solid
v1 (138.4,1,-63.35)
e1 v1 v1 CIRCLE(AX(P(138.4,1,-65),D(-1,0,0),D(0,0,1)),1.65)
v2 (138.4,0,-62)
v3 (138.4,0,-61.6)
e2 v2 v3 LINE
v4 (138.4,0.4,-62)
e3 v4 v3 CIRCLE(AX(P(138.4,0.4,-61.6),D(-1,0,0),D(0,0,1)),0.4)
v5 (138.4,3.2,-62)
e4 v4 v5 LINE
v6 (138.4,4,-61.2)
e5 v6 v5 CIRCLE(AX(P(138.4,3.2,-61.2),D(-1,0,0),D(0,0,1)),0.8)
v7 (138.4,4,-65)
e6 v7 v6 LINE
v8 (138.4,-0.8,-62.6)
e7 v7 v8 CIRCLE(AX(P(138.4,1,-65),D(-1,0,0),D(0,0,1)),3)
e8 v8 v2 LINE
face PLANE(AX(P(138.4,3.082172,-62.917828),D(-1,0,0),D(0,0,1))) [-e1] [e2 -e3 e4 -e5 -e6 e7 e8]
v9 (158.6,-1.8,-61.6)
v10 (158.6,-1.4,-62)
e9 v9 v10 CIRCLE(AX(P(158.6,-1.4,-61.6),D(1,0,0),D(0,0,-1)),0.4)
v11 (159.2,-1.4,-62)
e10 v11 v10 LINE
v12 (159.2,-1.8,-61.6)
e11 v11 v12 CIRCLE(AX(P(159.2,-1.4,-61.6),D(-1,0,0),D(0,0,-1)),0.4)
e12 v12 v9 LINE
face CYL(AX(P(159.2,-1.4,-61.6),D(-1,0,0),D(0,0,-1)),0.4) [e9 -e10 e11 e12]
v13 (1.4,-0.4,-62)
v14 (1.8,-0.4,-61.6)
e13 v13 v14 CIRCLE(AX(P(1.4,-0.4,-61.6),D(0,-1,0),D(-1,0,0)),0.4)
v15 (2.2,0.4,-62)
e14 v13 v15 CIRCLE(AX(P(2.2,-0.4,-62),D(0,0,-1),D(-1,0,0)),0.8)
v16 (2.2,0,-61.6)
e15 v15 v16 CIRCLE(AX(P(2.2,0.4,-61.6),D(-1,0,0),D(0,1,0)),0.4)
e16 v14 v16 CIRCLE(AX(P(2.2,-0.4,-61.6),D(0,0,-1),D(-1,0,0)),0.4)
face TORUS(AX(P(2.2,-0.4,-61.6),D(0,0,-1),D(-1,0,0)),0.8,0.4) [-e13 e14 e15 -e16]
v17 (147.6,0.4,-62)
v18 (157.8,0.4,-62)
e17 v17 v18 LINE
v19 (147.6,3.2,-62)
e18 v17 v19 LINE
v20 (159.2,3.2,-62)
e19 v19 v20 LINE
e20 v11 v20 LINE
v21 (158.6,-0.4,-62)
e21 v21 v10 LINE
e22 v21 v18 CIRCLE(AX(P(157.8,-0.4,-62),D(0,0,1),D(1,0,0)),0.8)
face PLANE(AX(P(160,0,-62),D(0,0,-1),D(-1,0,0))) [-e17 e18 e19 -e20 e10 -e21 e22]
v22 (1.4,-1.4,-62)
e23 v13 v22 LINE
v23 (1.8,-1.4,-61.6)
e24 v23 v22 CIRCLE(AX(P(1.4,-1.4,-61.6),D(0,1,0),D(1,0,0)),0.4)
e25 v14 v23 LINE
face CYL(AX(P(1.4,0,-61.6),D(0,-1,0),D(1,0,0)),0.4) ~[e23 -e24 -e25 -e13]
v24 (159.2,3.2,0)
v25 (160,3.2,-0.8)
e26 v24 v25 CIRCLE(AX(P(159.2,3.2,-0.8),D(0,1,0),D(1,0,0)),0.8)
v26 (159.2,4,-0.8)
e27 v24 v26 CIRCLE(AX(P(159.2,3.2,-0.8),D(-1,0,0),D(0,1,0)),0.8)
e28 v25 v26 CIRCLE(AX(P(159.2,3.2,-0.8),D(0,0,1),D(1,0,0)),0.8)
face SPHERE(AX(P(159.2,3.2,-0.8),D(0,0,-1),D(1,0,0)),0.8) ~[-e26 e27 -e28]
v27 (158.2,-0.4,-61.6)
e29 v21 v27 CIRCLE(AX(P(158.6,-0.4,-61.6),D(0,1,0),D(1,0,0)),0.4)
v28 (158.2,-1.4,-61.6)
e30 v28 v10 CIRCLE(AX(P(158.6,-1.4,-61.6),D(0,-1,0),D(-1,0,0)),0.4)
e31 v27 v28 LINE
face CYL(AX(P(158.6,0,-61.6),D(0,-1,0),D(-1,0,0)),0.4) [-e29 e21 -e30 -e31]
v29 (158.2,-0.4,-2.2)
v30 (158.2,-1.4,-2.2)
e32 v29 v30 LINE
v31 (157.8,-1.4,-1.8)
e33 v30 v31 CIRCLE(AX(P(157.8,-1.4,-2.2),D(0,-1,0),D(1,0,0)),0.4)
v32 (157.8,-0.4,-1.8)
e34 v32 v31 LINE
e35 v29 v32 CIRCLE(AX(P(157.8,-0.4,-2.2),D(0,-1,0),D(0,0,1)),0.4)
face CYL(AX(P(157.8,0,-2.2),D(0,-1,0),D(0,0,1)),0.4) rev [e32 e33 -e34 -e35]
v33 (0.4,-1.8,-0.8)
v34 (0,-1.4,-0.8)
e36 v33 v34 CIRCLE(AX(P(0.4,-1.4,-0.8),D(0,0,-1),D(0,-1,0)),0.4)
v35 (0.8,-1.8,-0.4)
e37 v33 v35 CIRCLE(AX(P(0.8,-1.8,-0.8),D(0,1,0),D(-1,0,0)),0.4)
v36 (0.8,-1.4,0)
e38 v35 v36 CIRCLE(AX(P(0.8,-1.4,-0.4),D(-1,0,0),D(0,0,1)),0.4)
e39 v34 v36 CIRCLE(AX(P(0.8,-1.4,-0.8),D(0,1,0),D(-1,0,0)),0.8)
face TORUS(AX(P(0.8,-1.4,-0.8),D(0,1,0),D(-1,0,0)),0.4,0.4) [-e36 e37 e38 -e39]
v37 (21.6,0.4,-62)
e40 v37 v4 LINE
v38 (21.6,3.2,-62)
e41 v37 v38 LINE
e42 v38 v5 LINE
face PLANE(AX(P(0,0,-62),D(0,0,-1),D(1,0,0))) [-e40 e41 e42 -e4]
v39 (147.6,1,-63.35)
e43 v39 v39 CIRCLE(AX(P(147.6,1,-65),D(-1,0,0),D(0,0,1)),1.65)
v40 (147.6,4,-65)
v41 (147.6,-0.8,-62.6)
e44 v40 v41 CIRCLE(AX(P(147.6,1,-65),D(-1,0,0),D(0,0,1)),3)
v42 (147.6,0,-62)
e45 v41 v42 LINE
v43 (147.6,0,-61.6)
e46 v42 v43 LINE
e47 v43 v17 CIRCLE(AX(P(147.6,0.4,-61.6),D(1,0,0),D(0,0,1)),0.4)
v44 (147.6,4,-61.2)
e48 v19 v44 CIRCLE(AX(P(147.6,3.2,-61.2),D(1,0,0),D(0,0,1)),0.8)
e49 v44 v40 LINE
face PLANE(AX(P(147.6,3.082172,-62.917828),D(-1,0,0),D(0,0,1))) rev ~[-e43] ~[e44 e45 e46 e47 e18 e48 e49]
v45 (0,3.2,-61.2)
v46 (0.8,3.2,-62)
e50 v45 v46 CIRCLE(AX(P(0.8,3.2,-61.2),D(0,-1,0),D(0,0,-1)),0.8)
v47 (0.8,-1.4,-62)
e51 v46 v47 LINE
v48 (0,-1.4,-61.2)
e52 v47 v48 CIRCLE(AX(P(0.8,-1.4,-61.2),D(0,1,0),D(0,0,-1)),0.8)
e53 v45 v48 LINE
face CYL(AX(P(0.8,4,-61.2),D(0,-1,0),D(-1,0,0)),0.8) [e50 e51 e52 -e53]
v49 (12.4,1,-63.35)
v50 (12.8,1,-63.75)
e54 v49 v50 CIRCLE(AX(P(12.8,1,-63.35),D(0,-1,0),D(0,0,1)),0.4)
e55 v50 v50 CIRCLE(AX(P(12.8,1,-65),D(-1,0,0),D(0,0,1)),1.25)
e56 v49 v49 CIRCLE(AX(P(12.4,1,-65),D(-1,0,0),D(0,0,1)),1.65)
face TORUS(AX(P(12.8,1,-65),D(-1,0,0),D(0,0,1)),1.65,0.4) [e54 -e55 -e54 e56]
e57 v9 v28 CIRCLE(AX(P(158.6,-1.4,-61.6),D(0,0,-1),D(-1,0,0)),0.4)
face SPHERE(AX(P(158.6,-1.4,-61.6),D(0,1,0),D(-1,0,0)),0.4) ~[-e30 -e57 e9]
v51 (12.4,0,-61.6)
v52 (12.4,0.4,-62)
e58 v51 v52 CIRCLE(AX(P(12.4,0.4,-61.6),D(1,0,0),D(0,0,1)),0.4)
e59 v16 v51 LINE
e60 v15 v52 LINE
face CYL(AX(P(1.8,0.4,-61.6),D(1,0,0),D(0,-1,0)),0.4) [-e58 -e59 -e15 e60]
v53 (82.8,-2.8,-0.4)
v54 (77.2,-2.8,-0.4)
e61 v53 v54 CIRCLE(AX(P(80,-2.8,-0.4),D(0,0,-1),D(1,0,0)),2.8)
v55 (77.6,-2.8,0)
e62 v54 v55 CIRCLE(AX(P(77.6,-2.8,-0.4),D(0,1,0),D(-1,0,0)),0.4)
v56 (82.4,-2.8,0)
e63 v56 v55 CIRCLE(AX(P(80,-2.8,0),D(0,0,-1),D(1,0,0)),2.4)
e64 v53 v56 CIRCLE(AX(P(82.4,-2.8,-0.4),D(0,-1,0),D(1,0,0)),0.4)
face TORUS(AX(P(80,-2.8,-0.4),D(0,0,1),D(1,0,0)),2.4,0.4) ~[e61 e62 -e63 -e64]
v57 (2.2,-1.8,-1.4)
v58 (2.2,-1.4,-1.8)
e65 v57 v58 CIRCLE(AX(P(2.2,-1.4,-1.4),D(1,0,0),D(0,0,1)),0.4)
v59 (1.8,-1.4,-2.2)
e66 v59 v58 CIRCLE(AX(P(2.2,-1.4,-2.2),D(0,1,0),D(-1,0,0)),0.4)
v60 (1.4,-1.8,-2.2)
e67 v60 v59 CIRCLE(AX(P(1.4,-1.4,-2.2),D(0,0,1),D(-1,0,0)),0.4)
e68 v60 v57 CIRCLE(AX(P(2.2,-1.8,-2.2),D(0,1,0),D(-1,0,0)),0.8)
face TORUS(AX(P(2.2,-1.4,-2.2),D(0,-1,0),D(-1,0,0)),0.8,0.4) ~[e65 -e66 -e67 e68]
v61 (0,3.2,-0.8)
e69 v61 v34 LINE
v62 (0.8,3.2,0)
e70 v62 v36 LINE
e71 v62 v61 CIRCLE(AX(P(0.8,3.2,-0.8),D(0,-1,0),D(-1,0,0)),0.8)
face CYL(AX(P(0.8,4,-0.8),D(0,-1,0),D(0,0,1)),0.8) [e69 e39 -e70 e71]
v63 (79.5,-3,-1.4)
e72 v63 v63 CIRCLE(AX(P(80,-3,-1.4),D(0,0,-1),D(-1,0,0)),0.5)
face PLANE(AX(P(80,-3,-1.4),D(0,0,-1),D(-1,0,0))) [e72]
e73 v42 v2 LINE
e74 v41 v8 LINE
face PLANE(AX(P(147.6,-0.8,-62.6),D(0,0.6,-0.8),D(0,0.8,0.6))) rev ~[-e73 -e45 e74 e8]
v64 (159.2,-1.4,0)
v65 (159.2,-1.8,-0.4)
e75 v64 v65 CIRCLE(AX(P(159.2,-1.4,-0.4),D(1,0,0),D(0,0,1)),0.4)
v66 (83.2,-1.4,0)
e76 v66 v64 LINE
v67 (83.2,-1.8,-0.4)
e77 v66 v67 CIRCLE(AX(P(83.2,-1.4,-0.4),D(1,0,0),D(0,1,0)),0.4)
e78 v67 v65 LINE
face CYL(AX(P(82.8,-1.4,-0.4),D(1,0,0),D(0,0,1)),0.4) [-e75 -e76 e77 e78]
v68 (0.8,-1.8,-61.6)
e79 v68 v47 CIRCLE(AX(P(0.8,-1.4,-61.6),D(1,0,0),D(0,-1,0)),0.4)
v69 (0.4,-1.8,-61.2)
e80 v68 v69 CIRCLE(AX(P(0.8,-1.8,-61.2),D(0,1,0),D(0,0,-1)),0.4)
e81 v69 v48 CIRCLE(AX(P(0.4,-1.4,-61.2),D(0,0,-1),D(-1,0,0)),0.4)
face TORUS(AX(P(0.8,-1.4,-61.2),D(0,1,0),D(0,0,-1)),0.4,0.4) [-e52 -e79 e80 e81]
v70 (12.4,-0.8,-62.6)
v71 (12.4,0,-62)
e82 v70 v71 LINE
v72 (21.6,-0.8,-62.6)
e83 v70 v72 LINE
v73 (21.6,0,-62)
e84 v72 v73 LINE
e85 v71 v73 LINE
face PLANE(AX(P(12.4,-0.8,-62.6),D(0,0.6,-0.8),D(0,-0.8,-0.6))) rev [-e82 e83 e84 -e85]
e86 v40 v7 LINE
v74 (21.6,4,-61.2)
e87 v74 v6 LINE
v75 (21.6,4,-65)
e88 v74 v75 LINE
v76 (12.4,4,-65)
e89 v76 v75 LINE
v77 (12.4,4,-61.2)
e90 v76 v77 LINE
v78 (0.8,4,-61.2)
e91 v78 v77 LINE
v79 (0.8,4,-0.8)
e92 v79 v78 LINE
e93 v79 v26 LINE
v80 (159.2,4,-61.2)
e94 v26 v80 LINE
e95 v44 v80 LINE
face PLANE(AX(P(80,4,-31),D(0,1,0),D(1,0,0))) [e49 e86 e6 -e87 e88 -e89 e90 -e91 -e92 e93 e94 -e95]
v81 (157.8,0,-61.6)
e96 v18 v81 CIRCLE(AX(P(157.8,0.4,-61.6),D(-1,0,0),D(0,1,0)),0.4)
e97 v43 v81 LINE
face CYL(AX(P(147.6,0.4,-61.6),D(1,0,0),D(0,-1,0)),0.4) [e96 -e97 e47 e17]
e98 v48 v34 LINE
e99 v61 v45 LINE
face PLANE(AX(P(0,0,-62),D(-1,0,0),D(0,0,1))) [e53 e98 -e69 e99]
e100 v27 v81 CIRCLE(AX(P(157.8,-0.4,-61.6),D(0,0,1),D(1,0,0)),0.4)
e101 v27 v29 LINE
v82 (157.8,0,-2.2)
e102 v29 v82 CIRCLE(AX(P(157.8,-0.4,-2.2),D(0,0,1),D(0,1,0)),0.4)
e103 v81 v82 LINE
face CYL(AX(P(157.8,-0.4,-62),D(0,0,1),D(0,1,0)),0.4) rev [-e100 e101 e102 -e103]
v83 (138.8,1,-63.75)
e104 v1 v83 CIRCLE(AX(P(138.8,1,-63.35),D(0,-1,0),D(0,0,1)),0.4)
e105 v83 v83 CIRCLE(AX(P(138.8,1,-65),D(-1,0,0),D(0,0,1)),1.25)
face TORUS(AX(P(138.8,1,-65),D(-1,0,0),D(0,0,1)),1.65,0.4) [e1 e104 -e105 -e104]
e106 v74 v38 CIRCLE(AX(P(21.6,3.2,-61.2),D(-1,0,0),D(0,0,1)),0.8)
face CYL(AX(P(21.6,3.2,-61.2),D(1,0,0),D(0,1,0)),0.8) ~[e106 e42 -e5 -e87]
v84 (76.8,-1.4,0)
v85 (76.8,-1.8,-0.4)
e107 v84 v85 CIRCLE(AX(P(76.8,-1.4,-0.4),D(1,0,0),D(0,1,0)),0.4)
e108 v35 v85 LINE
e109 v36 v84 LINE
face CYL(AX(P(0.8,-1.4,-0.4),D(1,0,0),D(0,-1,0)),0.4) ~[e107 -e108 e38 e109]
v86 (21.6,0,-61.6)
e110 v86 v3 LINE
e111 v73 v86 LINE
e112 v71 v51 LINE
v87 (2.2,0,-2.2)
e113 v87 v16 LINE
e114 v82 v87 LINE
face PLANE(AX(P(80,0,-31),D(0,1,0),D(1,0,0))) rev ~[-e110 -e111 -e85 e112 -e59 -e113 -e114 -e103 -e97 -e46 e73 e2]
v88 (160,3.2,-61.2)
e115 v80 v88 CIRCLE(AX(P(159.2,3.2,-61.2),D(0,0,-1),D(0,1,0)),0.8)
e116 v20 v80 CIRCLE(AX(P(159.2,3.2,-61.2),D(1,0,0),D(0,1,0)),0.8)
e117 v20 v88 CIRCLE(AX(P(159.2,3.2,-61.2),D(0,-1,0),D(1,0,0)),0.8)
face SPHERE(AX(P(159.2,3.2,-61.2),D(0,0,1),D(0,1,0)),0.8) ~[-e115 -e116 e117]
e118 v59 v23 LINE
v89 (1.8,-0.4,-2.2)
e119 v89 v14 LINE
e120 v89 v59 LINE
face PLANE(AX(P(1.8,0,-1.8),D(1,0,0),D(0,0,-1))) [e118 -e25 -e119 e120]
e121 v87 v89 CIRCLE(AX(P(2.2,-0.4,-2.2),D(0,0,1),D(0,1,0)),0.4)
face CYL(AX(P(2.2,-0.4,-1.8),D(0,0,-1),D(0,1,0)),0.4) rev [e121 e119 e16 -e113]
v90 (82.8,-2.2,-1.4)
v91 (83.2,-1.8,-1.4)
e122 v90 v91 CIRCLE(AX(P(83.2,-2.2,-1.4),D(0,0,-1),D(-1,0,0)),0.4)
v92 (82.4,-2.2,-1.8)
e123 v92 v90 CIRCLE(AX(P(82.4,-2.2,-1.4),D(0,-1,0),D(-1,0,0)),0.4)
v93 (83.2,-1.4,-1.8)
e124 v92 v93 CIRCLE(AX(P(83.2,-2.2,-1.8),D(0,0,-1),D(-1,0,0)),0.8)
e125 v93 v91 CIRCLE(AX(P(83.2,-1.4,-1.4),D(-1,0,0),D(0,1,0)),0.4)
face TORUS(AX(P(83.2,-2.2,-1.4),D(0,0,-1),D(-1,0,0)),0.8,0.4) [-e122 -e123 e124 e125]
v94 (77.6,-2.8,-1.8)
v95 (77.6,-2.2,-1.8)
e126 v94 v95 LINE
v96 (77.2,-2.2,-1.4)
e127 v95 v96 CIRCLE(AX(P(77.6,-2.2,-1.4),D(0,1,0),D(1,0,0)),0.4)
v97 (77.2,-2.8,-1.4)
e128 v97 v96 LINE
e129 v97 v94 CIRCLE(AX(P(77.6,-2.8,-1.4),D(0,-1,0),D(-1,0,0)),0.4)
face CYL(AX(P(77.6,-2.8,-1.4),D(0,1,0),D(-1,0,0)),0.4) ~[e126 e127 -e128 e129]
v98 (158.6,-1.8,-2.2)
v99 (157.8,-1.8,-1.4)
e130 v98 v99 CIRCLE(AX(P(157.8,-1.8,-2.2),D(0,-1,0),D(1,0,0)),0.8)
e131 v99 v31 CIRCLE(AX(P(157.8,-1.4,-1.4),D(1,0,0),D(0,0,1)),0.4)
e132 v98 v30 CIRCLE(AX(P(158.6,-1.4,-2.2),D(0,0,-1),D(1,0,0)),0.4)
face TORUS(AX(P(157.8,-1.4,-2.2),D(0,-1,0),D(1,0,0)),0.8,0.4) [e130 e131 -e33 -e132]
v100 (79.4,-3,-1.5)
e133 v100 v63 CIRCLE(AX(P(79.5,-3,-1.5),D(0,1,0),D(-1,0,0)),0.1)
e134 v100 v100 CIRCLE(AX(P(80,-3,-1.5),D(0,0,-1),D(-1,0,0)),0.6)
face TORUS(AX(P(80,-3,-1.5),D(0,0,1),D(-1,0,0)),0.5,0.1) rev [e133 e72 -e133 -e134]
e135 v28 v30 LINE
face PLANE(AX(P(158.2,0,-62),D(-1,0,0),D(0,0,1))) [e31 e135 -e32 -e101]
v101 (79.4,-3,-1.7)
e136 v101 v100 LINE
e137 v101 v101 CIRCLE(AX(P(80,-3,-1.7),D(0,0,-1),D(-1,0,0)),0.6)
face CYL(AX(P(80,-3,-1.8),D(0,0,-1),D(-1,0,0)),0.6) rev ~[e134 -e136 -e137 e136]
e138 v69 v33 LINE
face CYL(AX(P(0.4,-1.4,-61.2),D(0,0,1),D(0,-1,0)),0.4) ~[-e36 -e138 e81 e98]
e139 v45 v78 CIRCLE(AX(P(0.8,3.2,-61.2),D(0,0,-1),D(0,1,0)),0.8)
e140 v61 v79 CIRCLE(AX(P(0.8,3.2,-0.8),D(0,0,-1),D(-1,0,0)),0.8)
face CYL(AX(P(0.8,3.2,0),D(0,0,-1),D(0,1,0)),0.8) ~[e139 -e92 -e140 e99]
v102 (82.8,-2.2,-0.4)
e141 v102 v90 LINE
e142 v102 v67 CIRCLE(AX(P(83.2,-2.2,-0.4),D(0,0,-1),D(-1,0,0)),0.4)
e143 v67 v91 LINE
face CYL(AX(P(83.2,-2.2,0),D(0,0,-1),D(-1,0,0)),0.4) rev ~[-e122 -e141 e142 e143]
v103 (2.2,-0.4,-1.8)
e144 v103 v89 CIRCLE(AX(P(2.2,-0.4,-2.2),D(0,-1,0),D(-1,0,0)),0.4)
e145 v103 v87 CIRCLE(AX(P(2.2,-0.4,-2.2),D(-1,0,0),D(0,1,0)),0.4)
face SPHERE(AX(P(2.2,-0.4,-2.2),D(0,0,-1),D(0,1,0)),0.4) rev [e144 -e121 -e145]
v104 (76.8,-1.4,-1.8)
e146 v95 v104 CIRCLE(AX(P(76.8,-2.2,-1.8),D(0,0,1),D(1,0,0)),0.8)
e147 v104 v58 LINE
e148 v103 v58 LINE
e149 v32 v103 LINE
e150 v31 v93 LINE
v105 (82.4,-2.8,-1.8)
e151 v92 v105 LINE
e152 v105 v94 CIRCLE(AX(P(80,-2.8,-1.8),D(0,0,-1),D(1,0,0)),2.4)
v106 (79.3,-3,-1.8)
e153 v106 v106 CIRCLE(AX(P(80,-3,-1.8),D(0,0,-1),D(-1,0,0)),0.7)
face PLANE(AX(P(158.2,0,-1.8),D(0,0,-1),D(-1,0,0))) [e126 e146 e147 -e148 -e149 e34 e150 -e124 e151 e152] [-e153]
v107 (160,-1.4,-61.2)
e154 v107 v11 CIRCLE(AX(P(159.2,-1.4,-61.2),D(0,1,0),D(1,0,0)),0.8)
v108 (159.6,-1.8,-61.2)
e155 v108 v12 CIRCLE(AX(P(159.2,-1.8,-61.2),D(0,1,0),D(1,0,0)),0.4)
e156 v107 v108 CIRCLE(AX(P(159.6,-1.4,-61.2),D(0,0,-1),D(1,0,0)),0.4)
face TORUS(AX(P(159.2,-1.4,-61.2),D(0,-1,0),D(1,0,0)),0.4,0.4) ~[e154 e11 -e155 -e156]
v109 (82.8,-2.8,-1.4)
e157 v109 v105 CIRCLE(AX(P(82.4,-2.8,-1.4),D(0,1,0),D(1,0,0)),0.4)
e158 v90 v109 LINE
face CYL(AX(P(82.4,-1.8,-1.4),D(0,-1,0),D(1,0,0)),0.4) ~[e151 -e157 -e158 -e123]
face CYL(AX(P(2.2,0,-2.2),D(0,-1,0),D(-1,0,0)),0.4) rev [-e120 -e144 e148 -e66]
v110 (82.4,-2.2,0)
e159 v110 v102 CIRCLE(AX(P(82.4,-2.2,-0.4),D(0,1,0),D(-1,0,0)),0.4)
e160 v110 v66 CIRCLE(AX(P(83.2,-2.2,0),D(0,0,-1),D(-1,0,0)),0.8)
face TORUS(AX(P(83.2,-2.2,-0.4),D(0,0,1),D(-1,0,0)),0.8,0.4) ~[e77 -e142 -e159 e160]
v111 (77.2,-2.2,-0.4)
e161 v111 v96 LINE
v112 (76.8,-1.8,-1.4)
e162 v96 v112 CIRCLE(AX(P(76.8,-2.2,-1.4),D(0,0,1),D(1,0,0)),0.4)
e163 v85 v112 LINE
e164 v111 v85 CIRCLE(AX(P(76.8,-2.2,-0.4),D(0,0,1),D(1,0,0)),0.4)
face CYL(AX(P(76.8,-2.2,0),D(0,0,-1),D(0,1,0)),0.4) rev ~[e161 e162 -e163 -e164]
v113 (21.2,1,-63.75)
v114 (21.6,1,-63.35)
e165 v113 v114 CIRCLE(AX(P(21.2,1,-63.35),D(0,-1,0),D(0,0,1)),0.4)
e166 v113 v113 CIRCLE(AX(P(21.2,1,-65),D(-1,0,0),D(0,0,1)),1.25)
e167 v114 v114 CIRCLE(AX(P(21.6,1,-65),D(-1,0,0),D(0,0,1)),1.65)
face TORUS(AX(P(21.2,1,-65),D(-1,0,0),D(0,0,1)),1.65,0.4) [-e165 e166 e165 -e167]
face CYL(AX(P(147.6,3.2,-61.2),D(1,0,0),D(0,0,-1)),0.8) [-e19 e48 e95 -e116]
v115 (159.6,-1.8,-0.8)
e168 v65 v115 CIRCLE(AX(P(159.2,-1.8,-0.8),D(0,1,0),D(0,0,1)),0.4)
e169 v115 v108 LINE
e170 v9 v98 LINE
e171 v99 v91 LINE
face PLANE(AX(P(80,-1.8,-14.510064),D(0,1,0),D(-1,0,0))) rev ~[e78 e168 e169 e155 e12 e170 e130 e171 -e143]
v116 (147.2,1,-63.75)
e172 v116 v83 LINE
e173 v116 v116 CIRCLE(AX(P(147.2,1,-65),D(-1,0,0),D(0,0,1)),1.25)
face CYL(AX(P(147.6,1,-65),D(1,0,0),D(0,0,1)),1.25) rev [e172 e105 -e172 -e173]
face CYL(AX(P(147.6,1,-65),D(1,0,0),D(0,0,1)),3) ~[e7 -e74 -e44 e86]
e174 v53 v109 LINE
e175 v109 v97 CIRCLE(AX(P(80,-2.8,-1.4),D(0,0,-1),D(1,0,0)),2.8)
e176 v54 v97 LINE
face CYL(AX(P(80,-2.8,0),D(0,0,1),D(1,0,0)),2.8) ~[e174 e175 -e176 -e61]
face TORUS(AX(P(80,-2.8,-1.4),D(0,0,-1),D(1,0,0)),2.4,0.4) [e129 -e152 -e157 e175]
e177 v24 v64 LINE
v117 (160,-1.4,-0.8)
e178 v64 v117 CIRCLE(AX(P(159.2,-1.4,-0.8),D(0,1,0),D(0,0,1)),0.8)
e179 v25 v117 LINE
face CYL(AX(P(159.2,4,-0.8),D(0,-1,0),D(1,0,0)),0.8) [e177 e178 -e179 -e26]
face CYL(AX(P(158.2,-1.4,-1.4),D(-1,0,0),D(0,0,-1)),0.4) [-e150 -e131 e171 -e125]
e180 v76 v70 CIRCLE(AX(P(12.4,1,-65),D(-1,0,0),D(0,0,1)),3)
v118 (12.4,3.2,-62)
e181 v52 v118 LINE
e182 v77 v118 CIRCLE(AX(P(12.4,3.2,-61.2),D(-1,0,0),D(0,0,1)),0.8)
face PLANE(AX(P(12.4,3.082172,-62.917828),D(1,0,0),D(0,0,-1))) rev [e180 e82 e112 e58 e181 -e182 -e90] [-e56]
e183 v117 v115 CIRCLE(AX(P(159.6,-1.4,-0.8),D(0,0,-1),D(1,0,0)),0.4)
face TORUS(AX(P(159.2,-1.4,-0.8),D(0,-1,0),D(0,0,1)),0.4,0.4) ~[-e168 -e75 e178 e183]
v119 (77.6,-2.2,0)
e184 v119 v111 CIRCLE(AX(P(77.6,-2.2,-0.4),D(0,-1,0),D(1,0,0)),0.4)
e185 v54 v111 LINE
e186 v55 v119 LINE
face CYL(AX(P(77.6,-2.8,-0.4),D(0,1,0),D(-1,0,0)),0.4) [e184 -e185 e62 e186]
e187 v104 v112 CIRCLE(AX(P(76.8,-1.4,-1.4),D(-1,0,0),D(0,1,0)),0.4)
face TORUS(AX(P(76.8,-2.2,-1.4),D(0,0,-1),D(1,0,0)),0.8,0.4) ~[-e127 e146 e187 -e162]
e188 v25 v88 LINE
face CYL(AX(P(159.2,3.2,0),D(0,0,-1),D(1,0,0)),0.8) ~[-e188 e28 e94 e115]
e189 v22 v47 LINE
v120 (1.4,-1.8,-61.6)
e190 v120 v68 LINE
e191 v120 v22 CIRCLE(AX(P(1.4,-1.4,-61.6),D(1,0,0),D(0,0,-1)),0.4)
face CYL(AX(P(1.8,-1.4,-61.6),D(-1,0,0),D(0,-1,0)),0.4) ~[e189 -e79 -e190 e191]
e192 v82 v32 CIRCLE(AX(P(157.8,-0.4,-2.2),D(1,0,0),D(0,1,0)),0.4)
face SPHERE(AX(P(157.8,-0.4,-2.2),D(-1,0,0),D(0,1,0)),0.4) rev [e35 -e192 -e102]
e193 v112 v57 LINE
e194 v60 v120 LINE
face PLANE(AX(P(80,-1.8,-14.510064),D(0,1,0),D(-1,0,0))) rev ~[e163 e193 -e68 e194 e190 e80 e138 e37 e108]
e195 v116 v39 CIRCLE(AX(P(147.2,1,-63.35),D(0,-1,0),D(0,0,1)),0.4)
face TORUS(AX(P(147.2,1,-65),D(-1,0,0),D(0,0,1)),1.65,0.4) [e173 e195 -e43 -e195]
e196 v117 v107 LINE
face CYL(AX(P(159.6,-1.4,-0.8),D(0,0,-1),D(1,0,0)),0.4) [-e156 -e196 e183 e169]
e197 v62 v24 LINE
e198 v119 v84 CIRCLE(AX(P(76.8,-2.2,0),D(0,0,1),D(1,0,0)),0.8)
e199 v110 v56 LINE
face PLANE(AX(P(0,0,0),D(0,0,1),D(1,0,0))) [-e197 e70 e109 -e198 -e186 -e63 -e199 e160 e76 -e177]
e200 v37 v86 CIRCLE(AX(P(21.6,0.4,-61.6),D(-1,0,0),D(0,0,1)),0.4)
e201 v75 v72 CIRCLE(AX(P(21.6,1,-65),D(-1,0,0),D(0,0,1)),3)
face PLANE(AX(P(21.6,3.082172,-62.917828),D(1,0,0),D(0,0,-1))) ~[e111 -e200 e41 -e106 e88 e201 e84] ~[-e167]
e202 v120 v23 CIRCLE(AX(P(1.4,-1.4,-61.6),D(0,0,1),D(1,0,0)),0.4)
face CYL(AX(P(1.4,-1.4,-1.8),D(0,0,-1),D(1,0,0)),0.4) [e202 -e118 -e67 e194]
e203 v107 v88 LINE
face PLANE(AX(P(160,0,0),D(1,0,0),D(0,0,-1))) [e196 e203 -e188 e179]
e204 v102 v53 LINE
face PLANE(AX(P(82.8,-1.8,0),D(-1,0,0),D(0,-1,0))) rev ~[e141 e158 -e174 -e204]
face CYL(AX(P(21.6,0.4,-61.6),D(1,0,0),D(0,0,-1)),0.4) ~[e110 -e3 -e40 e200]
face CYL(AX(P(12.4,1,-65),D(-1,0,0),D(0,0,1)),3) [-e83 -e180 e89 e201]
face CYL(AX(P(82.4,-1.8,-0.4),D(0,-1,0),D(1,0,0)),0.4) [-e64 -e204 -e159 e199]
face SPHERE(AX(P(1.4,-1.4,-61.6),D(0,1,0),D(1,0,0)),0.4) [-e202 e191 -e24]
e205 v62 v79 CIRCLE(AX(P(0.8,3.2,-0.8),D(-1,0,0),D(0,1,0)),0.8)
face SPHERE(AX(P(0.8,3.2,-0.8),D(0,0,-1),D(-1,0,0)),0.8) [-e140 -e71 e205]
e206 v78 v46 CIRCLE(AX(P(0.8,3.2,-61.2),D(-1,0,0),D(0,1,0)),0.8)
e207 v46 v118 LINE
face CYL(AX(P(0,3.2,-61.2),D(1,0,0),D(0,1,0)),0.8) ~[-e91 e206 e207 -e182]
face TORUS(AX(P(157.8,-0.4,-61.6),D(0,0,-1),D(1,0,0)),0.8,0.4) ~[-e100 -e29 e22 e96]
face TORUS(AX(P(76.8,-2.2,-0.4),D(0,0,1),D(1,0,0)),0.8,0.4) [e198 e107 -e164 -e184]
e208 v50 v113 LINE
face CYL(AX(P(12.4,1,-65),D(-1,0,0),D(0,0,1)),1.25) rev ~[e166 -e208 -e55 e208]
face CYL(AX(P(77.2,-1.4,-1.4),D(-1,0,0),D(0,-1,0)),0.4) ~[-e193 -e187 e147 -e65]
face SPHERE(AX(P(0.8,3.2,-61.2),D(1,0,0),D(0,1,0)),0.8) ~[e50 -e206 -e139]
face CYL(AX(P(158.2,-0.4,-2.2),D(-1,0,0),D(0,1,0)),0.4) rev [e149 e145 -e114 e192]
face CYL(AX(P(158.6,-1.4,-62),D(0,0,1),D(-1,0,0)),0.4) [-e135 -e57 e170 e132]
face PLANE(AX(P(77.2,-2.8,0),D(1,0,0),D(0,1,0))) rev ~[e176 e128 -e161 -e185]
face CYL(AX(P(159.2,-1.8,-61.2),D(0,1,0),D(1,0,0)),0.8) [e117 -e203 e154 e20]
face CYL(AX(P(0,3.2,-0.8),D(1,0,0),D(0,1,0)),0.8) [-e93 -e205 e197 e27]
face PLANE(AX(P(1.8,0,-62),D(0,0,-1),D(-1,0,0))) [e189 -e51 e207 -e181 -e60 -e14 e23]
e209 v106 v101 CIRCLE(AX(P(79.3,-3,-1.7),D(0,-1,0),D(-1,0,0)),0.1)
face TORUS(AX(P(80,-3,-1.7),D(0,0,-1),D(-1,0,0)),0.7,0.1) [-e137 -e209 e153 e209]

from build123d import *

# Parameters (mm, degrees)
SKETCH_1_W          = 160
SKETCH_1_H          = 62
EXTRUDE_1_DEPTH     = 4
SKETCH_2_R          = 3
SKETCH_2_R_2        = 1.25
EXTRUDE_2_DEPTH     = 9.2
EXTRUDE_3_DEPTH     = 1.8
EXTRUDE_4_DEPTH     = 1.8
SKETCH_5_R          = 0.6
CUT_EXTRUDE_1_DEPTH = 0.4
FILLET_1_R          = 0.8
FILLET_2_R          = 0.4
FILLET_3_R          = 0.1


with BuildPart() as part:
    # 草图1 → 凸台-拉伸1 (new body)
    with BuildSketch(Plane(origin=(0, 0, 0), x_dir=(1, 0, 0), z_dir=(0, 1, 0))):
        with Locations((80, 31)):
            Rectangle(SKETCH_1_W, SKETCH_1_H)
    extrude(amount=EXTRUDE_1_DEPTH)

    # 草图2 → 凸台-拉伸2 (add)
    with BuildSketch(Plane.ZY.offset(-147.6)):
        with BuildLine():
            Line((-62, 1), (-62, 4))
            Line((-62, 4), (-65, 4))
            ThreePointArc((-65, 4), (-62.878679656, 3.121320344), (-62, 1))
        make_face()
        with Locations((-65, 1)):
            Circle(SKETCH_2_R)
        with Locations((-65, 1)):
            Circle(SKETCH_2_R_2, mode=Mode.SUBTRACT)
        with BuildLine():
            Line((-62, 0), (-62, 1))
            ThreePointArc((-62, 1), (-62.153950106, 0.051316702), (-62.6, -0.8))
            Line((-62.6, -0.8), (-62, 0))
        make_face()
    extrude_2 = extrude(amount=EXTRUDE_2_DEPTH)

    # 镜向1: 凸台-拉伸2 across plane
    add(extrude_2.mirror(Plane(origin=(80, 0, 0), x_dir=(0, 0, 1), z_dir=(1, 0, 0))))

    # 草图3 → 凸台-拉伸3 (add)
    with BuildSketch(Plane.XZ):
        Polygon((160, 0), (160, -62), (158.2, -62), (158.2, -1.8), (1.8, -1.8), (1.8, -62), (0, -62), (0, 0), align=None)
    extrude(amount=EXTRUDE_3_DEPTH)

    # 草图4 → 凸台-拉伸4 (add)
    with BuildSketch(Plane.XY):
        with BuildLine():
            Line((77.2, -2.8), (77.2, -1.8))
            Line((77.2, -1.8), (82.8, -1.8))
            Line((82.8, -1.8), (82.8, -2.8))
            ThreePointArc((82.8, -2.8), (80, -5.6), (77.2, -2.8))
        make_face()
    extrude(amount=-EXTRUDE_4_DEPTH)

    # 草图5 → 切除-拉伸1 (cut)
    with BuildSketch(Plane(origin=(0, 0, -1.8), x_dir=(-1, 0, 0), z_dir=(0, 0, -1))):
        with Locations((-80, -3)):
            Circle(SKETCH_5_R)
    extrude(amount=-CUT_EXTRUDE_1_DEPTH, mode=Mode.SUBTRACT)

    # 圆角1
    fillet_1_edges = [part.edges().sort_by_distance(p)[0] for p in [
        (160, 4, -31),
        (80, 4, -62),
        (153.8, 4, -62),
        (6.2, 4, -62),
        (0, 4, -31),
        (0, 1.1, -62),
        (160, 1.1, -62),
        (160, 1.1, 0),
        (0, 1.1, 0),
        (80, 4, 0),
    ]]
    fillet(fillet_1_edges, radius=FILLET_1_R)

    # 圆角2
    fillet_2_edges = [part.edges().sort_by_distance(p)[0] for p in [
        (80, 0, -62),
        (138.4, 1, -66.25),
        (147.6, 1, -66.25),
        (7.1, 0, -62),
        (12.4, 1, -66.25),
        (21.6, 1, -66.25),
        (152.9, 0, -62),
        (1.8, 0, -31.9),
        (1.8, -0.9, -62),
        (80, 0, -1.8),
        (1.8, -0.9, -1.8),
        (158.2, 0, -31.9),
        (158.2, -0.9, -1.8),
        (158.2, -0.9, -62),
        (1.8, -1.8, -31.9),
        (39.5, -1.8, -1.8),
        (158.2, -1.8, -31.9),
        (158.7, -1.8, -62),
        (39, -1.8, 0),
        (120.5, -1.8, -1.8),
        (77.2, -1.8, -0.9),
        (82.8, -1.8, -0.9),
        (80, -5.6, 0),
        (82.8, -2.3, 0),
        (77.2, -2.3, 0),
        (80, -5.6, -1.8),
        (77.2, -2.3, -1.8),
        (82.8, -2.3, -1.8),
        (121, -1.8, 0),
        (0, -1.8, -31),
        (1.3, -1.8, -62),
        (0.234314575, -1.8, -61.765685425),
        (0.234314575, -1.8, -0.234314575),
        (160, -1.8, -31),
        (159.765685425, -1.8, -61.765685425),
        (159.765685425, -1.8, -0.234314575),
    ]]
    fillet(fillet_2_edges, radius=FILLET_2_R)

    # 圆角3
    fillet_3_edges = [part.edges().sort_by_distance(p)[0] for p in [
        (80.6, -3, -1.4),
        (80.6, -3, -1.8),
    ]]
    fillet(fillet_3_edges, radius=FILLET_3_R)


solid = part.part
